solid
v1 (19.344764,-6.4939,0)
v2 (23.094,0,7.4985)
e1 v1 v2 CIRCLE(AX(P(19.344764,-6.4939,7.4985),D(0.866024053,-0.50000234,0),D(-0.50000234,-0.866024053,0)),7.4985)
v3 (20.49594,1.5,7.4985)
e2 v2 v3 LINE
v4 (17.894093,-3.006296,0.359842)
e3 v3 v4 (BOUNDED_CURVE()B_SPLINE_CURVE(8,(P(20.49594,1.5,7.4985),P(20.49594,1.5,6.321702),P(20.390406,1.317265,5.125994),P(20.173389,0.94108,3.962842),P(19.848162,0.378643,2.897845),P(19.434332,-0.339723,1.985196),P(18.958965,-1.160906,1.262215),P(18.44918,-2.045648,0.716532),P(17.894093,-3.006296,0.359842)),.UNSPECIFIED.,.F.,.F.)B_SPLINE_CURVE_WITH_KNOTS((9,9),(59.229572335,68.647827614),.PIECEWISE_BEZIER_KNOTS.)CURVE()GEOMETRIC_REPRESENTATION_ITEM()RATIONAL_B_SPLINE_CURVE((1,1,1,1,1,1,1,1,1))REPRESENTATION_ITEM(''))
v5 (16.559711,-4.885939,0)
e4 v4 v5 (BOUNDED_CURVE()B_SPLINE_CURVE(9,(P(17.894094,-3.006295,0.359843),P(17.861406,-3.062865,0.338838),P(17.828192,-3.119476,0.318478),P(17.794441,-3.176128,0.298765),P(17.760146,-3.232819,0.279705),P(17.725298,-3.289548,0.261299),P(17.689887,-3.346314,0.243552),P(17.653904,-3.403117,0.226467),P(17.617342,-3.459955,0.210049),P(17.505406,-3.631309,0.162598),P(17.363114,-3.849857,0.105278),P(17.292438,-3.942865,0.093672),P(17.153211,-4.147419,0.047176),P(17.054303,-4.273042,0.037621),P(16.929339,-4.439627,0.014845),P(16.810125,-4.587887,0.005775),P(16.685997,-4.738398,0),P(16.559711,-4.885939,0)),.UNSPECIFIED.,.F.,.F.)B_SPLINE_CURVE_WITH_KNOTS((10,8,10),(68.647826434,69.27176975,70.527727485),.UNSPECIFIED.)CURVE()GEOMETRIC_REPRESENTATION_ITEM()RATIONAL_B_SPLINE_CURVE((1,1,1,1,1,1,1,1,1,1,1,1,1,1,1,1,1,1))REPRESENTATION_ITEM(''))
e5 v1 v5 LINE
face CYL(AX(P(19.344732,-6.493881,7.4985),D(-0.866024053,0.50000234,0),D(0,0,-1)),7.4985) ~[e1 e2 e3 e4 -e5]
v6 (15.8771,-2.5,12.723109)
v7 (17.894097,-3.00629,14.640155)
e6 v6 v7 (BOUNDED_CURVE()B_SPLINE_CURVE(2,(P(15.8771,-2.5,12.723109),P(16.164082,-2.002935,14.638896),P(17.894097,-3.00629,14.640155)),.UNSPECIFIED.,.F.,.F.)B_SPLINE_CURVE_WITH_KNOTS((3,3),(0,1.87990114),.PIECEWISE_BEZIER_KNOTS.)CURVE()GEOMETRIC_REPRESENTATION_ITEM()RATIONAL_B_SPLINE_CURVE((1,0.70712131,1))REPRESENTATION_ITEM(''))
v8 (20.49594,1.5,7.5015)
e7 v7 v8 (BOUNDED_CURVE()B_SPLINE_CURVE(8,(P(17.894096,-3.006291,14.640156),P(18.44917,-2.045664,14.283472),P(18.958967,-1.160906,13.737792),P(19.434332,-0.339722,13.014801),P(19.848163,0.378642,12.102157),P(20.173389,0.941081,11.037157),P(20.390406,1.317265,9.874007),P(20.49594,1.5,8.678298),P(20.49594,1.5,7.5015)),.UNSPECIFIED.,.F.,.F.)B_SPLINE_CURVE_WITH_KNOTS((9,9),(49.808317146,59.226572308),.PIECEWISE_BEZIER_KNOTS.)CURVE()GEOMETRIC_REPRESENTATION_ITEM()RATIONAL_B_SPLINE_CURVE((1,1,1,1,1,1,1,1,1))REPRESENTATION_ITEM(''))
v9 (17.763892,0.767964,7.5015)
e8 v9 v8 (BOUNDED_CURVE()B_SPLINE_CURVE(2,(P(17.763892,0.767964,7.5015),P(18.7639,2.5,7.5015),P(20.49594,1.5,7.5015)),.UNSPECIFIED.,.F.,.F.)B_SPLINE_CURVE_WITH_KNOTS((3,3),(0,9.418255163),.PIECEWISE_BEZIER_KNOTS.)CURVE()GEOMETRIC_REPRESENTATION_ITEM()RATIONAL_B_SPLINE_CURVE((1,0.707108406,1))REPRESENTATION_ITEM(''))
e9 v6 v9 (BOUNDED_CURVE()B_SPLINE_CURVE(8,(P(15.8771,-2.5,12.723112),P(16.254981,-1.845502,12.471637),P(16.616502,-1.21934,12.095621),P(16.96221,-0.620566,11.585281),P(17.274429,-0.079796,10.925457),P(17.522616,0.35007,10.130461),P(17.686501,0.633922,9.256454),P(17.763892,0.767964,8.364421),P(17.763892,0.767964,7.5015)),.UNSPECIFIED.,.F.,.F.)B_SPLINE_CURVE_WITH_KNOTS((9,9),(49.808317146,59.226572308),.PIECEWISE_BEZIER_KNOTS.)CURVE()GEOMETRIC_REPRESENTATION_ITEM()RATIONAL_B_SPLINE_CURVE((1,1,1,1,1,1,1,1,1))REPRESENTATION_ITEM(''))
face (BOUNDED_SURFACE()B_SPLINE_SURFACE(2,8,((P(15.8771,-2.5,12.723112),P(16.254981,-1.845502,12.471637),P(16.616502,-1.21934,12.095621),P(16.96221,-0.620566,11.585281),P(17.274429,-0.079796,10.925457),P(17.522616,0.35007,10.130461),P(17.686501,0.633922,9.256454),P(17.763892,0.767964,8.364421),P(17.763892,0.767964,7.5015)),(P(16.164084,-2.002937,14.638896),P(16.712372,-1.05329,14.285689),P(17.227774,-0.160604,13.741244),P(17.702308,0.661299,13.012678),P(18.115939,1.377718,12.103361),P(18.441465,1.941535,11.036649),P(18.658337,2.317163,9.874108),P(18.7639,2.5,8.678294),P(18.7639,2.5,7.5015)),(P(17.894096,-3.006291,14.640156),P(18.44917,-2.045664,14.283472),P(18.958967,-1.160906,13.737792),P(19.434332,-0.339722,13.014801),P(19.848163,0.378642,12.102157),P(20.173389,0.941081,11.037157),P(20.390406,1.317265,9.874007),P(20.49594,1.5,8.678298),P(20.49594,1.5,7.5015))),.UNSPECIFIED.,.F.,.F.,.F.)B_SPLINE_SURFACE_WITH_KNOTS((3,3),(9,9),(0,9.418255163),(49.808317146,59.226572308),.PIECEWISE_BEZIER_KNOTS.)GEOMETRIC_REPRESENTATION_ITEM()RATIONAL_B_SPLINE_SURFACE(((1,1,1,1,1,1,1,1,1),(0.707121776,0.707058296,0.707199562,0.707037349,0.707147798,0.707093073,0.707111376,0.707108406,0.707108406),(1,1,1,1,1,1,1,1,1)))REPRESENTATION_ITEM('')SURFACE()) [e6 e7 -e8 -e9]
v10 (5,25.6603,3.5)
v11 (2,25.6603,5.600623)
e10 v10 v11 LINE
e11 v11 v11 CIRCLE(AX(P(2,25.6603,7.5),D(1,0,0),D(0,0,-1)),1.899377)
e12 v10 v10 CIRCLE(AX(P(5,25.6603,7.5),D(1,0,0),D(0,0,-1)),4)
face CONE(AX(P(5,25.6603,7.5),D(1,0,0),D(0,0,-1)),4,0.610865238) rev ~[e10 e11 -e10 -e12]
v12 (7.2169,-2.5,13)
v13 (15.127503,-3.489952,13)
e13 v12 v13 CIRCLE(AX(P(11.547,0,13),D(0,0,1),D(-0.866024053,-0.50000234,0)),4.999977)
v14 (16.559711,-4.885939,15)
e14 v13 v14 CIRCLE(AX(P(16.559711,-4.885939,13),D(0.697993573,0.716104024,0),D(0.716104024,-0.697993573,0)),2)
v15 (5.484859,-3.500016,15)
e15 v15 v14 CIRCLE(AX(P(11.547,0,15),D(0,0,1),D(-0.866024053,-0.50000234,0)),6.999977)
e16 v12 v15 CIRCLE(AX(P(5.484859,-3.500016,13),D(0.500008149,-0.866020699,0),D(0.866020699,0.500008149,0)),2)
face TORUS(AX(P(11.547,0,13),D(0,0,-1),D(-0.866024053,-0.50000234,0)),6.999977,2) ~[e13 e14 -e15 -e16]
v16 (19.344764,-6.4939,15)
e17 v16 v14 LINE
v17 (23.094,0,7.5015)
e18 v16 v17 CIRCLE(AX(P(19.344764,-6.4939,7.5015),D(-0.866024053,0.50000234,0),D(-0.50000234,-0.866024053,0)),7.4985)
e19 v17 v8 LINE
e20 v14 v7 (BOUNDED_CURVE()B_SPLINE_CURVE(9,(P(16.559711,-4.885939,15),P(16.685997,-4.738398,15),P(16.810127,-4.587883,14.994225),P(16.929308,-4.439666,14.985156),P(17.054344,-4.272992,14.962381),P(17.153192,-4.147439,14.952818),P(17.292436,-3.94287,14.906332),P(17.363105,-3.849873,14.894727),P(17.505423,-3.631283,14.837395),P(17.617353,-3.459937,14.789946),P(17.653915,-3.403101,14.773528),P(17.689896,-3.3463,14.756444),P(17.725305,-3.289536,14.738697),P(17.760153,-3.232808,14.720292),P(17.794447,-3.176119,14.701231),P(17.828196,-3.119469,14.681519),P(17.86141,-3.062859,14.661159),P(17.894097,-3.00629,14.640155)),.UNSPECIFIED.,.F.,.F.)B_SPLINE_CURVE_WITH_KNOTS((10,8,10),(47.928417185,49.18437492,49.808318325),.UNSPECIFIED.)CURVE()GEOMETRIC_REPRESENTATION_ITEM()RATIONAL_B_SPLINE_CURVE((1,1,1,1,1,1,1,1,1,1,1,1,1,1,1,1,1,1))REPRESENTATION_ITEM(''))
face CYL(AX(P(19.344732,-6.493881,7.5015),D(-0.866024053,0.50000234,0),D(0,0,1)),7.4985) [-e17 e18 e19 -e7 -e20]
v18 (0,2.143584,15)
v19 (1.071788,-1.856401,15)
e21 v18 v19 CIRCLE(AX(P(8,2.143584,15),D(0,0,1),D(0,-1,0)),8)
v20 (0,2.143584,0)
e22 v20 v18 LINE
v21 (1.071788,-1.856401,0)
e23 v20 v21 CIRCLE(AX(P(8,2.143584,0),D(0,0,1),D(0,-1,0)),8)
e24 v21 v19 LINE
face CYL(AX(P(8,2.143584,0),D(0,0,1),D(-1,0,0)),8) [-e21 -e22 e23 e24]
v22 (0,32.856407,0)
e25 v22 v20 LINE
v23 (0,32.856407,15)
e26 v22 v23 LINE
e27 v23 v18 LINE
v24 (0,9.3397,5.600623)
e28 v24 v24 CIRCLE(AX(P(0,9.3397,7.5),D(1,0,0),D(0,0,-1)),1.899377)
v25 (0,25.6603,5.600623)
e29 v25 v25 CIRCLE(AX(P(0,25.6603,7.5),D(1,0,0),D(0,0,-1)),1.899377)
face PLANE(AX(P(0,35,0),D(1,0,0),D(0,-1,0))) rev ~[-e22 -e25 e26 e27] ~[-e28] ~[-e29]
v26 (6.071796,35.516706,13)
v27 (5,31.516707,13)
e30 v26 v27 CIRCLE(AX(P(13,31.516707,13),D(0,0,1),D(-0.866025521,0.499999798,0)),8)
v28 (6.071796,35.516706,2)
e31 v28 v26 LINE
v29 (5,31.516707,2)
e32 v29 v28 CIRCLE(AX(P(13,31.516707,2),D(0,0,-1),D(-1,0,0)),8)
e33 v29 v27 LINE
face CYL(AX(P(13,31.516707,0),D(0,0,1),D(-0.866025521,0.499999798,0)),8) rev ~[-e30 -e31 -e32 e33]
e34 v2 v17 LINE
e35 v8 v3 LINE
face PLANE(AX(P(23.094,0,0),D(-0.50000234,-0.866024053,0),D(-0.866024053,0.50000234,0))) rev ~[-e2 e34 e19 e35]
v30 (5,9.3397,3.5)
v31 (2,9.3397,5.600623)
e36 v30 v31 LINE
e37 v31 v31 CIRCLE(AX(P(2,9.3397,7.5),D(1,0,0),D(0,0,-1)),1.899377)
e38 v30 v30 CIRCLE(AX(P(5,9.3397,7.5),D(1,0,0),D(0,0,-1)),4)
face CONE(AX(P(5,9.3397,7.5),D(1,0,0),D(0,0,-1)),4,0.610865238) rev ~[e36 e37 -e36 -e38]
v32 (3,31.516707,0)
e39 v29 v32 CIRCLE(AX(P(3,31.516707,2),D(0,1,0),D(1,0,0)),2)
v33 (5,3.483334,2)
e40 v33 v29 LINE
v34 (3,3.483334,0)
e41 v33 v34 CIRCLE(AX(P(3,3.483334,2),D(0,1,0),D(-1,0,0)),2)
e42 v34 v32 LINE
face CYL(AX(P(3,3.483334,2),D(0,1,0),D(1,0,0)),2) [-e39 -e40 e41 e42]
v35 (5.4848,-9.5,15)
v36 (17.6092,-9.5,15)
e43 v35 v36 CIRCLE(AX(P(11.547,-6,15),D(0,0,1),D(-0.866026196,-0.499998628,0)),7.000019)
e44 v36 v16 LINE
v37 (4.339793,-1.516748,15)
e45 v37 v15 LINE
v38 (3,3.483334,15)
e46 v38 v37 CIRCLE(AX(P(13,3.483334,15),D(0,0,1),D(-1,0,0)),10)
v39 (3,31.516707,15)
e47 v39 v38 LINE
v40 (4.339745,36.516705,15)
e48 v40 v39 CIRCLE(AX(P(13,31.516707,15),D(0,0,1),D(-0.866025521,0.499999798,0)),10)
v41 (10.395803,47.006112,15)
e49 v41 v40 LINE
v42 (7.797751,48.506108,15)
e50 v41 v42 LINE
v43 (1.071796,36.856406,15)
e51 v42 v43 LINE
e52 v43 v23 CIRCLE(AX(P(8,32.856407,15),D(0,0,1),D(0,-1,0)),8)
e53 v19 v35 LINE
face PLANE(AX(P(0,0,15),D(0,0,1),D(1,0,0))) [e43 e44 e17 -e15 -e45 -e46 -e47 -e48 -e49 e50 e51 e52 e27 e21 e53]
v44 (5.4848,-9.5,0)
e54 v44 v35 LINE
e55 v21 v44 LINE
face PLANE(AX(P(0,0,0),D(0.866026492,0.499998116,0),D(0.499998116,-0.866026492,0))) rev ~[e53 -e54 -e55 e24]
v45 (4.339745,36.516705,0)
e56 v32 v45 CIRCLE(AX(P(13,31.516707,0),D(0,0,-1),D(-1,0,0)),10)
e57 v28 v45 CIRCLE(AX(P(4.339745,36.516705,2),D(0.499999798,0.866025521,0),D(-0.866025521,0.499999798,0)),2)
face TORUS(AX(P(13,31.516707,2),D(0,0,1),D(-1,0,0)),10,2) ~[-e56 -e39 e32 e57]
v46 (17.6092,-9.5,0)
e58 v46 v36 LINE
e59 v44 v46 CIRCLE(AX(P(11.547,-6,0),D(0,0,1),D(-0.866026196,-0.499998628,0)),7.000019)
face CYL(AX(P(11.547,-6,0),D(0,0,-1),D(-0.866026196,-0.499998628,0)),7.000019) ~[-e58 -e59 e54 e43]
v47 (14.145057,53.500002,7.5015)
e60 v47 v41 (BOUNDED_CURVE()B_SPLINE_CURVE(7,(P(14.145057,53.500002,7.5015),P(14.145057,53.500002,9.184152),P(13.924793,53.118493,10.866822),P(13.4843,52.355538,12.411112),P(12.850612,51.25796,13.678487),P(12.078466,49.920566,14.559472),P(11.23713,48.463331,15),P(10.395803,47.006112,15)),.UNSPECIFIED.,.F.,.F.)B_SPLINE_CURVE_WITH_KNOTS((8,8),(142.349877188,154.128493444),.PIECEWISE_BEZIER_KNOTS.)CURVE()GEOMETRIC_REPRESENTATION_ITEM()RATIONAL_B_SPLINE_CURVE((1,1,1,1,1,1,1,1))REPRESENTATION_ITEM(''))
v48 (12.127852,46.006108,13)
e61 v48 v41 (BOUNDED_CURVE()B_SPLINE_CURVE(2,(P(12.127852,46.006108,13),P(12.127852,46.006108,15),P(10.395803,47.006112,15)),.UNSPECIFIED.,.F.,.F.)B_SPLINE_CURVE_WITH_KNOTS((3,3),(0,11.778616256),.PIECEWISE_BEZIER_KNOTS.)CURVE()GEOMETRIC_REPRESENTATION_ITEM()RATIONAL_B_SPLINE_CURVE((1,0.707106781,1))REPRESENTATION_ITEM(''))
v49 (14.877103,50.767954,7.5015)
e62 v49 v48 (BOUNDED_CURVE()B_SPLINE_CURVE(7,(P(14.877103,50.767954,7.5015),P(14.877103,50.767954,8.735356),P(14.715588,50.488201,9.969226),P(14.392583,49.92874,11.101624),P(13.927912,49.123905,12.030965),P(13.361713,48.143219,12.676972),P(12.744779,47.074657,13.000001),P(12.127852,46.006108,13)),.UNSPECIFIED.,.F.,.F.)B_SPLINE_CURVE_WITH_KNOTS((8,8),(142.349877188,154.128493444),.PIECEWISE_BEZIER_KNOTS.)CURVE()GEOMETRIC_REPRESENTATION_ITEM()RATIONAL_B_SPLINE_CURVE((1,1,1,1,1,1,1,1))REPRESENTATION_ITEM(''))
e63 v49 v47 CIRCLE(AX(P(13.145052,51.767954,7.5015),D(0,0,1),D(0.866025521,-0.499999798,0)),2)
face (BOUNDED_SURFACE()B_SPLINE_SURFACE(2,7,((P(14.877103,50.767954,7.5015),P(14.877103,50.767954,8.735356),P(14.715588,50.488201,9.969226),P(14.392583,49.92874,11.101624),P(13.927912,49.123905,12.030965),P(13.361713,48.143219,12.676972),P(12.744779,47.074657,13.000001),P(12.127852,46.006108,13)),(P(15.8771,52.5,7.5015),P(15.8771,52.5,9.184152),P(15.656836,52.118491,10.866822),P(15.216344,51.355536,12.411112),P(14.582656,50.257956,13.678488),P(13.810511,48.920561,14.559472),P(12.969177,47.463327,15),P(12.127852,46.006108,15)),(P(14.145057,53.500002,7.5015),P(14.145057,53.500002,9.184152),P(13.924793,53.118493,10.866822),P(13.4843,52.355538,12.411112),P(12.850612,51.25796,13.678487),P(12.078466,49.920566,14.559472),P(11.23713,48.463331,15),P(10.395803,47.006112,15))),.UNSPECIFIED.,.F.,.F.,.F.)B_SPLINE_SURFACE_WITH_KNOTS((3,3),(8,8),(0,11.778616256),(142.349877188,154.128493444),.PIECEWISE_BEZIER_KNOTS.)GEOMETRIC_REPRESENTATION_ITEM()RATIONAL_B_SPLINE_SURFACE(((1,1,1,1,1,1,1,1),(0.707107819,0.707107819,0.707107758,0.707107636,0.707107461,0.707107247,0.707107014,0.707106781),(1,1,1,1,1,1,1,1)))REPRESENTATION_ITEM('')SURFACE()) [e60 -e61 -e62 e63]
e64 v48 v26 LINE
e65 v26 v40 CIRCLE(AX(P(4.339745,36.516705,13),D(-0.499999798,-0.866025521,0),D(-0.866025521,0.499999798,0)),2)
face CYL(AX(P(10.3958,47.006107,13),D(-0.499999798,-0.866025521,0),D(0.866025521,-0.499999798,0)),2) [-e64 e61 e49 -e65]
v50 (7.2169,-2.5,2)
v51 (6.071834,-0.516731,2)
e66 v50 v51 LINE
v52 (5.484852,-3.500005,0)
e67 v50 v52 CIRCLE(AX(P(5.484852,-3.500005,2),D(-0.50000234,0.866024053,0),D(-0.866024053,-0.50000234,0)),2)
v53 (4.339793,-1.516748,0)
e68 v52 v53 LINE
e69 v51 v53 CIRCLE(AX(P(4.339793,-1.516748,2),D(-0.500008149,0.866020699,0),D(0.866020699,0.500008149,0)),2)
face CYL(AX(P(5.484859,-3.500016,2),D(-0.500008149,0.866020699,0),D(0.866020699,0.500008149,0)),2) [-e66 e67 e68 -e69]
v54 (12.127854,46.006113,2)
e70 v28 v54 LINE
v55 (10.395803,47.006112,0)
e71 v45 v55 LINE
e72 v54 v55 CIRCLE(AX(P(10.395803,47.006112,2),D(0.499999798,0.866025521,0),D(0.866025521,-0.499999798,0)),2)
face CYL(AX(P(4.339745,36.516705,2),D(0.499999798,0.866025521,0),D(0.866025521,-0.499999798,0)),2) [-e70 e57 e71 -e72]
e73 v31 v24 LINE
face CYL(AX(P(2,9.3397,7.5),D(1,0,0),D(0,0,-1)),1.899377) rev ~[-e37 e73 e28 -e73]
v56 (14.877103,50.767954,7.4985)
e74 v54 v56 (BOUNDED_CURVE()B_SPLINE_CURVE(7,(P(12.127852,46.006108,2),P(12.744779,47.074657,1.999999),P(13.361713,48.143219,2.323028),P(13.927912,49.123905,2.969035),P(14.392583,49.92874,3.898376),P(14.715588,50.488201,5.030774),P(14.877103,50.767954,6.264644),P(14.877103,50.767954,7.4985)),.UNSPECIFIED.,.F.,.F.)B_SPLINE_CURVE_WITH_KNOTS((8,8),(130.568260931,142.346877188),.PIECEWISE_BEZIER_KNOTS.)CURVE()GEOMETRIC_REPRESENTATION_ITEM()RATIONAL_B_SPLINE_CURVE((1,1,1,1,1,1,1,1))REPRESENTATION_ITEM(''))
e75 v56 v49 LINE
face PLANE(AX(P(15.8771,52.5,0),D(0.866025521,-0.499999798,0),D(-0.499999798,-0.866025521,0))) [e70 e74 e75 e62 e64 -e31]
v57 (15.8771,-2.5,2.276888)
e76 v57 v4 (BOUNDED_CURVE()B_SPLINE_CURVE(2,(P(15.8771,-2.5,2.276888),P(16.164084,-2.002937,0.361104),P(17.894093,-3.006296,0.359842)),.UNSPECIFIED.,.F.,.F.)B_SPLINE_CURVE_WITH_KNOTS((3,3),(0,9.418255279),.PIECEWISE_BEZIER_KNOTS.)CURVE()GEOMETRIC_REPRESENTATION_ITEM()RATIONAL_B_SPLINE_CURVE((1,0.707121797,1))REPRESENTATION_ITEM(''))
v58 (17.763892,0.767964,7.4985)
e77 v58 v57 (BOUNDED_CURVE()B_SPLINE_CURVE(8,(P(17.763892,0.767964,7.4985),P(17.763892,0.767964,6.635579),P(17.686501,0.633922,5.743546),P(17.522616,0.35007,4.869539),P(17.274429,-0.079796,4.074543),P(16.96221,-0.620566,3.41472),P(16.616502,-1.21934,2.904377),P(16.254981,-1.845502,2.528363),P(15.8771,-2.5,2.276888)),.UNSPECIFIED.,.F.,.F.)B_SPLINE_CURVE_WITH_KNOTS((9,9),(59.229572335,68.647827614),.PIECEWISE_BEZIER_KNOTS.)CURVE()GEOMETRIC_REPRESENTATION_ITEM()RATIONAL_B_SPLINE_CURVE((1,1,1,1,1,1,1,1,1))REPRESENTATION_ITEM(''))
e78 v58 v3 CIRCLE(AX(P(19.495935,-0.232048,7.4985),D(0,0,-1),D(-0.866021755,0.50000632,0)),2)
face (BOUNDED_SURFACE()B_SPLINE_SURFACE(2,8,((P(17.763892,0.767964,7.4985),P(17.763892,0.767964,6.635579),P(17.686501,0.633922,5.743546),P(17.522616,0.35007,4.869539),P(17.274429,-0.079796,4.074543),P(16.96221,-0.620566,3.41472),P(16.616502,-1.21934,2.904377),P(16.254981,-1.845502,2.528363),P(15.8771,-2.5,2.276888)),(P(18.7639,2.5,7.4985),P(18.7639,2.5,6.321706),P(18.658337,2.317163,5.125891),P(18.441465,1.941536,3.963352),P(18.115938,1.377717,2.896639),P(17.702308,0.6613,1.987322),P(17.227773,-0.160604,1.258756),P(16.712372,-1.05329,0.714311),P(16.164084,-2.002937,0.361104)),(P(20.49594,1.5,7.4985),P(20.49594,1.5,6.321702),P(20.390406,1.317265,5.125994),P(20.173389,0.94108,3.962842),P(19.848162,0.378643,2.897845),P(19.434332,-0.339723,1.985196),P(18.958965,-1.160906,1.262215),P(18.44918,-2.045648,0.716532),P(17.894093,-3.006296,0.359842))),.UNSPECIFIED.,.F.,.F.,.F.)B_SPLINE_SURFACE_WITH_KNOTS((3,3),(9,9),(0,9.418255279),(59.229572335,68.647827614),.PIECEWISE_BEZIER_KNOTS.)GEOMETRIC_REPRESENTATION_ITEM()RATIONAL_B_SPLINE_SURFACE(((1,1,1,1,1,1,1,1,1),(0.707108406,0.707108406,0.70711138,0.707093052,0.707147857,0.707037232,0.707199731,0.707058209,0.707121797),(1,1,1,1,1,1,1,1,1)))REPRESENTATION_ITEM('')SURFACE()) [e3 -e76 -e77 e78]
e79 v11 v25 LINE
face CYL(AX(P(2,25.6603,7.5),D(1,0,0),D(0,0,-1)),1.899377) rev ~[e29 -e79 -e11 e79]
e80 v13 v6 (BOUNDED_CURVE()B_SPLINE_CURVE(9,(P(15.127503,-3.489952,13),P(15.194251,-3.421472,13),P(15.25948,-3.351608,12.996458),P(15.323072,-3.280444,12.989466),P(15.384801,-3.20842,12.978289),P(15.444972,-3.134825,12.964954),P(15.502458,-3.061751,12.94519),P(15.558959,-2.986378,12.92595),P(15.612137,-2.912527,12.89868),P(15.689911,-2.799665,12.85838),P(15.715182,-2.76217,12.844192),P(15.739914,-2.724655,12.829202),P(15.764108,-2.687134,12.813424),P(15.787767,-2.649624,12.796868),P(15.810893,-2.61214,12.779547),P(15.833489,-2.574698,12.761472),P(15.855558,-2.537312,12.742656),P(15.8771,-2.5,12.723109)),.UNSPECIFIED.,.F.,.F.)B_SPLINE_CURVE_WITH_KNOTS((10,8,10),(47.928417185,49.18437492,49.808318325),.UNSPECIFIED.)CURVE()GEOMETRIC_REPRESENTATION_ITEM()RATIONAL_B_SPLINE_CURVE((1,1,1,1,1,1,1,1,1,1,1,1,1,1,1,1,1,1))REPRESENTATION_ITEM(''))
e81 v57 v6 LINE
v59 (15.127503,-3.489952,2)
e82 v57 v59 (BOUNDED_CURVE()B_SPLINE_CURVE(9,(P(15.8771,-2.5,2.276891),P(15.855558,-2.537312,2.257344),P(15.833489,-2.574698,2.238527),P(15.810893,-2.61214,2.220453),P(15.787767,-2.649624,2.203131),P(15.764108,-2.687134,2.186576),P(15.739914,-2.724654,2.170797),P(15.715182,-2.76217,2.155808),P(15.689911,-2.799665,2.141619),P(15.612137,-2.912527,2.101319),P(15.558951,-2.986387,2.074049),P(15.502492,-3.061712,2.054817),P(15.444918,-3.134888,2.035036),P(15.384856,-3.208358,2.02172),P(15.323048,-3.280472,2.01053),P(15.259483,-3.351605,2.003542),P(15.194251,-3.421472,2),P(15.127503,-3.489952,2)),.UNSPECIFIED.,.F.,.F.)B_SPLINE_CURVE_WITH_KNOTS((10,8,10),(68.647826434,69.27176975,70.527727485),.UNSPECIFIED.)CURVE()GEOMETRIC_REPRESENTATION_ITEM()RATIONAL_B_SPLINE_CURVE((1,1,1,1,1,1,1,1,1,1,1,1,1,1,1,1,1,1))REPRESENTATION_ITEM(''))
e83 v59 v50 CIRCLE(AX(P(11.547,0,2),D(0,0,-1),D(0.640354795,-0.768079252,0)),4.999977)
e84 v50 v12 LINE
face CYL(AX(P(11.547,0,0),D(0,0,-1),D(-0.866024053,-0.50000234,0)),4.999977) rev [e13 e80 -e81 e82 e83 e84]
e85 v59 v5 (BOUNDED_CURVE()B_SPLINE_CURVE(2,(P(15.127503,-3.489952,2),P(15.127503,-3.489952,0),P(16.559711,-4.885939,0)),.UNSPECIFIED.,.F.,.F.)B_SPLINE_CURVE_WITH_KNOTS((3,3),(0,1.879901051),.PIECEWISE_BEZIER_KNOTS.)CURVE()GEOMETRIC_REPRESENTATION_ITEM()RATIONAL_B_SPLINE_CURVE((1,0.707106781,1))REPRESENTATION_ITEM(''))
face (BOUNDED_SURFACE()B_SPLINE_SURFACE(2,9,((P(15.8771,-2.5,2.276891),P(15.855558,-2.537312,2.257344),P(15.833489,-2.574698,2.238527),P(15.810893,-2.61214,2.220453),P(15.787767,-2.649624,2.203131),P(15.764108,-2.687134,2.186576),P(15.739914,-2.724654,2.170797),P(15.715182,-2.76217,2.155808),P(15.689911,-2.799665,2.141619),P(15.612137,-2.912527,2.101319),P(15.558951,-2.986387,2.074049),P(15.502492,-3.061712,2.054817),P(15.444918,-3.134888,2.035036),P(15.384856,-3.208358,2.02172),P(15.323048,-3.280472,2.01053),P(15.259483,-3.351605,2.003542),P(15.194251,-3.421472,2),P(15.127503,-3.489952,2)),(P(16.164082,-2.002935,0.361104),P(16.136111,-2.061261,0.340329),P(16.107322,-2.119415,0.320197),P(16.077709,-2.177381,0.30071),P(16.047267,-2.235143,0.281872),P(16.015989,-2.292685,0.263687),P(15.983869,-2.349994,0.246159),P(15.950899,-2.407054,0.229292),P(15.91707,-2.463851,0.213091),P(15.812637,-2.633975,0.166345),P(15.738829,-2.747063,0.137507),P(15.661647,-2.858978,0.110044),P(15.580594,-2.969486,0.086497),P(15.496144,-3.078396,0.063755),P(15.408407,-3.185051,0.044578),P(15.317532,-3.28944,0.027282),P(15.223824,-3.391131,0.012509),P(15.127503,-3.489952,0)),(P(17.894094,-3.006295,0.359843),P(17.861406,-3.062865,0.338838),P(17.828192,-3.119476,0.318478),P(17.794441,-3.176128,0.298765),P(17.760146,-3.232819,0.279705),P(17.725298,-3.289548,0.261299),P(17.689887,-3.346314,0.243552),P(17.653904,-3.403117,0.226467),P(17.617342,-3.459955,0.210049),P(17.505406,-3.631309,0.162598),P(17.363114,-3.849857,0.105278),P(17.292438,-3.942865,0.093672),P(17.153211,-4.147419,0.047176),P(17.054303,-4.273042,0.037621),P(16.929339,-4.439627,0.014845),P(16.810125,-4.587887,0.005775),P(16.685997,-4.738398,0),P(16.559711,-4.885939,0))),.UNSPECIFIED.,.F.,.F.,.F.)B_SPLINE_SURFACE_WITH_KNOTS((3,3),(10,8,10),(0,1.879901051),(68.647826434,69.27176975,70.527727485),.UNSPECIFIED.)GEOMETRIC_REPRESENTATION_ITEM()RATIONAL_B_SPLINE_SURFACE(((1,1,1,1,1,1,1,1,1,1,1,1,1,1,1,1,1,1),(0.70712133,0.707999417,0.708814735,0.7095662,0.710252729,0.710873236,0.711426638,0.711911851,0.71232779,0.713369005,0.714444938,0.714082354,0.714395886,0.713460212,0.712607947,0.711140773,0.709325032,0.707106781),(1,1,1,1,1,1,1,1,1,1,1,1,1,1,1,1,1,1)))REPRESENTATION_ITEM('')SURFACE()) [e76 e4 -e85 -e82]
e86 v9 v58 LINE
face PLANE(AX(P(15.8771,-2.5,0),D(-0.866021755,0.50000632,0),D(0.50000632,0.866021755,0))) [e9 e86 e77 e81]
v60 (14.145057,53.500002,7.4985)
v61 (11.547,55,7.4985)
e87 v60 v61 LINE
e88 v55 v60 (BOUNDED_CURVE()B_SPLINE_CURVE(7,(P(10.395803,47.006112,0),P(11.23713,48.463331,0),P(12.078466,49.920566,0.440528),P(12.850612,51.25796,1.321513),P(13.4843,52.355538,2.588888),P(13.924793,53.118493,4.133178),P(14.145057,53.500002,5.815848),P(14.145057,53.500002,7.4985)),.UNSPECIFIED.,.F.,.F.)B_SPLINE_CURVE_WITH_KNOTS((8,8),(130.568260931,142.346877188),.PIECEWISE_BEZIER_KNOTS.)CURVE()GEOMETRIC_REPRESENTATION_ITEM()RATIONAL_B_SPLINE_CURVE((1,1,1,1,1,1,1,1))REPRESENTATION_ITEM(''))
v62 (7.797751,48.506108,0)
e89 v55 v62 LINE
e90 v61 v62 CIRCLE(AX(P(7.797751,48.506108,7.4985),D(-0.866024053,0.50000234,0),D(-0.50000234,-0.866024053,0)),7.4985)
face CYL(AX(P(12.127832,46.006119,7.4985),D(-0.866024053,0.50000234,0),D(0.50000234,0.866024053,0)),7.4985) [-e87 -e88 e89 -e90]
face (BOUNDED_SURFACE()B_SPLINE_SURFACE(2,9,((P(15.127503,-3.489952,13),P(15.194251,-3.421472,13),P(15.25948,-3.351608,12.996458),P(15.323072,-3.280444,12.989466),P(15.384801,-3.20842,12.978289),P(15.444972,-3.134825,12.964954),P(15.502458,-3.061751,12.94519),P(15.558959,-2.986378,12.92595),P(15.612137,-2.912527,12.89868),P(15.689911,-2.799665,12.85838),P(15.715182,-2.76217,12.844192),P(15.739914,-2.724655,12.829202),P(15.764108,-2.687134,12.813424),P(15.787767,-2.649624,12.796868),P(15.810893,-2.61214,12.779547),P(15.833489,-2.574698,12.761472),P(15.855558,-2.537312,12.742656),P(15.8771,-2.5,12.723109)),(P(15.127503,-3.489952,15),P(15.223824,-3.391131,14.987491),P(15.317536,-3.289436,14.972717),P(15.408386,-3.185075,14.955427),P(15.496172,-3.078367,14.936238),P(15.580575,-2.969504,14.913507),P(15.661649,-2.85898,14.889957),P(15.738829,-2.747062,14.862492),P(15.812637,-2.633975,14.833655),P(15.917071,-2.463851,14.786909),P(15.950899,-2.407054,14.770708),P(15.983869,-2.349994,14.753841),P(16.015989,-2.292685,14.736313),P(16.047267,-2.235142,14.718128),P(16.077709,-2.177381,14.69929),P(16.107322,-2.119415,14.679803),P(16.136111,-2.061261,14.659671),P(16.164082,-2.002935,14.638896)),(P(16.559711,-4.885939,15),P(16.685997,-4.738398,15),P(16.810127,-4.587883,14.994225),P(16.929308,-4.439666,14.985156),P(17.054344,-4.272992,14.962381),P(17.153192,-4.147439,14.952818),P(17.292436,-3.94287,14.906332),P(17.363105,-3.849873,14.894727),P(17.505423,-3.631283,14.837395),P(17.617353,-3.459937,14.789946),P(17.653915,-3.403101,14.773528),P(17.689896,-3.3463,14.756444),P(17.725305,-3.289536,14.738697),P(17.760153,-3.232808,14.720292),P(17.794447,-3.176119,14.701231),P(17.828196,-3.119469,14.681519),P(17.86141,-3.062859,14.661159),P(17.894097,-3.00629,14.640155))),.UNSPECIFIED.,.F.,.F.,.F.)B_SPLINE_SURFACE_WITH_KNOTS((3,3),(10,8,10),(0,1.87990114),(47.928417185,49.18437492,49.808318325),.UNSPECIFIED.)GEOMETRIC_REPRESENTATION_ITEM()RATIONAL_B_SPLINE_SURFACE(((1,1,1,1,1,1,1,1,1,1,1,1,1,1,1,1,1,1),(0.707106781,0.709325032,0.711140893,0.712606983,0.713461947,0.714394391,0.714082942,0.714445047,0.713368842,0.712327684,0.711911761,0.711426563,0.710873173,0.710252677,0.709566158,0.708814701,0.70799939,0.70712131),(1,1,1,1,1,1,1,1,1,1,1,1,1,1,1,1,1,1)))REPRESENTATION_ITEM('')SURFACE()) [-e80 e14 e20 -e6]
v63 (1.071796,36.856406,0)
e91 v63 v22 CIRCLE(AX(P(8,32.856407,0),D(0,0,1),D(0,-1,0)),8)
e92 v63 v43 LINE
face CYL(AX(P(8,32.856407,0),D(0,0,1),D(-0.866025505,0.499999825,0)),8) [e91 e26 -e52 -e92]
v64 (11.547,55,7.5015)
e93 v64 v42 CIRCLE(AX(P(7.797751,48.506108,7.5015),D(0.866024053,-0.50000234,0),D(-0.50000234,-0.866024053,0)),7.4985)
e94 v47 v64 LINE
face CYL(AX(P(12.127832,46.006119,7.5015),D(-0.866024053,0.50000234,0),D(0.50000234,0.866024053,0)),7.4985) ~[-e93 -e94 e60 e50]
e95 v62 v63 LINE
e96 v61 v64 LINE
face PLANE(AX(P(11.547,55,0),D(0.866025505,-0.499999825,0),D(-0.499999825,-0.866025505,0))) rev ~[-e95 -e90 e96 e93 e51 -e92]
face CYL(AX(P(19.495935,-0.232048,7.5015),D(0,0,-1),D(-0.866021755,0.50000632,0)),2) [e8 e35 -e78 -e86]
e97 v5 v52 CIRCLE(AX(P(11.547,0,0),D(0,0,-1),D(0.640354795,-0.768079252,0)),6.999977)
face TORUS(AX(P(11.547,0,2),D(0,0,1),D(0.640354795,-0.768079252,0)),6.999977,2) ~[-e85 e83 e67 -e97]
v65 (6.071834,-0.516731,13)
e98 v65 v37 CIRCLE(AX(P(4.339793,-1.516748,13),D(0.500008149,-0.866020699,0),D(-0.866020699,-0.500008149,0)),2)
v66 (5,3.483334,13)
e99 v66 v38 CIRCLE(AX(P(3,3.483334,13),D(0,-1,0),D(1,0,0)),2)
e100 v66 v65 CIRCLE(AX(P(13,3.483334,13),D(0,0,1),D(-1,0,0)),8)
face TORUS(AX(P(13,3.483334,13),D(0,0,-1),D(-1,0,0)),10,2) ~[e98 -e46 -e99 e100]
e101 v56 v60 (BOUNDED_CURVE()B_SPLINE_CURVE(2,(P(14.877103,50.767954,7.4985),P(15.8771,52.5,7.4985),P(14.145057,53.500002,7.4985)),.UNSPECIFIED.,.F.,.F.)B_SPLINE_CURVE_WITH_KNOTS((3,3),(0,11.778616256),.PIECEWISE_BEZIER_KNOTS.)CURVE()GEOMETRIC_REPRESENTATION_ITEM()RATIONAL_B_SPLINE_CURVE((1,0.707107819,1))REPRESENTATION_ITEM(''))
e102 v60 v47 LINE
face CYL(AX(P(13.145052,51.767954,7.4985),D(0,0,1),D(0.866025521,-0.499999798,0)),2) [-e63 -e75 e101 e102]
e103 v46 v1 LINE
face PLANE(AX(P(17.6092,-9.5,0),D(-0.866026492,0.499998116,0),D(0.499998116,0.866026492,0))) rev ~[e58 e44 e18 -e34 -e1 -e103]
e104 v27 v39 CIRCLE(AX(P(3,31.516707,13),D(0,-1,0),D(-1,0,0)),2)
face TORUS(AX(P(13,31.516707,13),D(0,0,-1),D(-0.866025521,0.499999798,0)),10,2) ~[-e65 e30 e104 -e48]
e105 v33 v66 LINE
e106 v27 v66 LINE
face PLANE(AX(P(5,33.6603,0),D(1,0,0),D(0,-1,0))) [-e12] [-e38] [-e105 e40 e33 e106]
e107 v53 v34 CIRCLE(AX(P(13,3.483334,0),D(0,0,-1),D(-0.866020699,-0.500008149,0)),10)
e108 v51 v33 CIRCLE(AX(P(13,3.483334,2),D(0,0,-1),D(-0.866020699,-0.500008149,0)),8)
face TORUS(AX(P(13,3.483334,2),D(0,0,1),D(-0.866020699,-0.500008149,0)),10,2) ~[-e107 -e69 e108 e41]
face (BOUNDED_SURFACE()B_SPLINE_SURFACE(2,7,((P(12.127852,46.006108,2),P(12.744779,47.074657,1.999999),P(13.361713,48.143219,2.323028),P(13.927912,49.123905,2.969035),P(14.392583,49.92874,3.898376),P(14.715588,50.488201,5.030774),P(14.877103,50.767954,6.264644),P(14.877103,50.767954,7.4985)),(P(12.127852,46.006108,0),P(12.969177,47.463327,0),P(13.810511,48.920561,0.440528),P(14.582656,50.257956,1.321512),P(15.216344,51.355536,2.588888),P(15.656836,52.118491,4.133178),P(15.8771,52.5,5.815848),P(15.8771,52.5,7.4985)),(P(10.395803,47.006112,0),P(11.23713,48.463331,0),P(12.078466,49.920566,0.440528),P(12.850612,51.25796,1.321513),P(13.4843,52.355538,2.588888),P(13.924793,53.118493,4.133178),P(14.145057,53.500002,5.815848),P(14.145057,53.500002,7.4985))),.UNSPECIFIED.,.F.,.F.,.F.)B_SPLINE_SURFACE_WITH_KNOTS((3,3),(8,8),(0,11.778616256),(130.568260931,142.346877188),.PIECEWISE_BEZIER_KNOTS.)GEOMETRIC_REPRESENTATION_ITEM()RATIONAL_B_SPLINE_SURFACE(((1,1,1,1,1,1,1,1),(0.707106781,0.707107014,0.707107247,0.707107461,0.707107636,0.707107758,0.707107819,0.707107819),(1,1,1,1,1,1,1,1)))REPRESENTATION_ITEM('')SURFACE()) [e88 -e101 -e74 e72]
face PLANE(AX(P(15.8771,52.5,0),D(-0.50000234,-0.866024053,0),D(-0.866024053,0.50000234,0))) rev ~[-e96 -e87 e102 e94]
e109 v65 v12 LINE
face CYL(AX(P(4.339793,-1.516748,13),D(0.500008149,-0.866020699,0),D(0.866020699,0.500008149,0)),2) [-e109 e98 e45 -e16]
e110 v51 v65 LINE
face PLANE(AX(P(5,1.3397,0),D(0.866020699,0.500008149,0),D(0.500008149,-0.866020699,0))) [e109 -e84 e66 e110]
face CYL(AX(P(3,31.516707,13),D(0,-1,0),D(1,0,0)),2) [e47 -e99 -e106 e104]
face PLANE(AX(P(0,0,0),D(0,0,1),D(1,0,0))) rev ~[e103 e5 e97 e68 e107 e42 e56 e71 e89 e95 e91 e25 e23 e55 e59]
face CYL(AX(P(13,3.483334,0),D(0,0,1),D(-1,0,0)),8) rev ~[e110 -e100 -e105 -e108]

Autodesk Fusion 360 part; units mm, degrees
sketch "Sketch1" plane through (0, 0, 0) normal (0, 0, 1) x (1, 0, 0)
  line L0 (11.547, 55) -> (0, 35)
  line L1 (0, 35) -> (0, 0)
  line L2 (0, 0) -> (5.4848, -9.5)
  line L3 (17.6092, -9.5) -> (23.094, 0)
  line L4 (15.8771, 52.5) -> (5, 33.6603)
  line L5 (5, 33.6603) -> (5, 1.3397)
  line L6 (5, 1.3397) -> (7.2169, -2.5)
  line L7 (15.8771, -2.5) -> (18.7639, 2.5)
  line L8 (15.8771, 52.5) -> (11.547, 55)
  line L9 (23.094, 0) -> (18.7639, 2.5)
  arc A0 (7.2169, -2.5) -> (15.8771, -2.5) centre (11.547, 0) ccw
  arc A1 (5.4848, -9.5) -> (17.6092, -9.5) centre (11.547, -6) ccw
  point P0 (11.547, -20)
  dimension "d1" = 35
  dimension "d2" = 20
  dimension "d3" = 20
  dimension "d4" = 20
  dimension "d5" = 150
  dimension "d6" = 150
  dimension "d8" = 5
  dimension "d9" = 7
sketch "Sketch2" plane through (0, 0, 0) normal (0, 0, 1) x (1, 0, 0)
sketch "Sketch3" plane through (0, 0, 0) normal (0, 0, 1) x (1, 0, 0)
sketch "Sketch4" plane through (0, 0, 0) normal (0, 0, 1) x (1, 0, 0)
sketch "Sketch5" plane through (0, 0, 0) normal (0, 0, 1) x (1, 0, 0)
sketch "Sketch6" plane through (0, 0, 0) normal (0, 0, 1) x (1, 0, 0)
sketch "Sketch7" plane through (0, 0, 0) normal (0, 0, 1) x (1, 0, 0)
sketch "Sketch8" plane through (0, 0, 0) normal (0, 0, 1) x (1, 0, 0)
extrude "Extrude1" add sketch "Sketch1" along normal blind 15
sketch "Sketch9" plane through (5, 0, 0) normal (1, 0, 0) x (0, 0, -1)
  line L0 (0, 1.3397) -> (0, 33.6603)
  line L1 (0, 33.6603) -> (-15, 33.6603)
  line L2 (-15, 33.6603) -> (-15, 1.3397)
  line L3 (-15, 1.3397) -> (0, 1.3397)
  line L4 (-7.5, 33.6603) -> (-7.5, 1.3397) construction
  line L5 (0, 17.5) -> (-15, 17.5) construction
  circle A0 centre (-7.5, 25.6603) radius 4
  circle A1 centre (-7.5, 9.3397) radius 4
  dimension "d12" = 8
  dimension "d13" = 8
extrude "Extrude2" cut sketch "Sketch9" against normal blind 3 draft -35 contours A0 | A1
extrude "Extrude3" cut 2 faces at (2, 25.2296, 7.9641) (2, 8.5998, 6.9769) along direction (-1, 0, 0) through all
fillet "Fillet1" radius 7.5 4 edges at (13.7121, 53.75, 15) (13.7121, 53.75, 0) (20.9289, 1.25, 15) (20.9289, 1.25, 0)
fillet "Fillet2" radius 8 4 edges at (5, 33.6603, 7.5) (5, 1.3397, 7.5) (0, 0, 7.5) (0, 35, 7.5)
fillet "Fillet3" radius 2 16 edges at (5.2726, 33.5872, 15) (9.0995, 40.7607, 15) (15.8771, 52.5, 7.5) (9.0995, 40.7607, 0) (5.2726, 33.5872, 0) (5, 17.5, 0) (5.2726, 1.4128, 0) (6.6443, -1.5083, 0) (10.6702, -4.9225, 0) (15.3815, -3.2072, 0.0512) (18.7639, 2.5, 7.5) (15.3815, -3.2072, 14.9488) (10.6702, -4.9225, 15) (6.6443, -1.5083, 15) (5.2726, 1.4128, 15) (5, 17.5, 15)
equation "d3 = d2"
equation "d4 = d2"
equation "d6 = d5"
